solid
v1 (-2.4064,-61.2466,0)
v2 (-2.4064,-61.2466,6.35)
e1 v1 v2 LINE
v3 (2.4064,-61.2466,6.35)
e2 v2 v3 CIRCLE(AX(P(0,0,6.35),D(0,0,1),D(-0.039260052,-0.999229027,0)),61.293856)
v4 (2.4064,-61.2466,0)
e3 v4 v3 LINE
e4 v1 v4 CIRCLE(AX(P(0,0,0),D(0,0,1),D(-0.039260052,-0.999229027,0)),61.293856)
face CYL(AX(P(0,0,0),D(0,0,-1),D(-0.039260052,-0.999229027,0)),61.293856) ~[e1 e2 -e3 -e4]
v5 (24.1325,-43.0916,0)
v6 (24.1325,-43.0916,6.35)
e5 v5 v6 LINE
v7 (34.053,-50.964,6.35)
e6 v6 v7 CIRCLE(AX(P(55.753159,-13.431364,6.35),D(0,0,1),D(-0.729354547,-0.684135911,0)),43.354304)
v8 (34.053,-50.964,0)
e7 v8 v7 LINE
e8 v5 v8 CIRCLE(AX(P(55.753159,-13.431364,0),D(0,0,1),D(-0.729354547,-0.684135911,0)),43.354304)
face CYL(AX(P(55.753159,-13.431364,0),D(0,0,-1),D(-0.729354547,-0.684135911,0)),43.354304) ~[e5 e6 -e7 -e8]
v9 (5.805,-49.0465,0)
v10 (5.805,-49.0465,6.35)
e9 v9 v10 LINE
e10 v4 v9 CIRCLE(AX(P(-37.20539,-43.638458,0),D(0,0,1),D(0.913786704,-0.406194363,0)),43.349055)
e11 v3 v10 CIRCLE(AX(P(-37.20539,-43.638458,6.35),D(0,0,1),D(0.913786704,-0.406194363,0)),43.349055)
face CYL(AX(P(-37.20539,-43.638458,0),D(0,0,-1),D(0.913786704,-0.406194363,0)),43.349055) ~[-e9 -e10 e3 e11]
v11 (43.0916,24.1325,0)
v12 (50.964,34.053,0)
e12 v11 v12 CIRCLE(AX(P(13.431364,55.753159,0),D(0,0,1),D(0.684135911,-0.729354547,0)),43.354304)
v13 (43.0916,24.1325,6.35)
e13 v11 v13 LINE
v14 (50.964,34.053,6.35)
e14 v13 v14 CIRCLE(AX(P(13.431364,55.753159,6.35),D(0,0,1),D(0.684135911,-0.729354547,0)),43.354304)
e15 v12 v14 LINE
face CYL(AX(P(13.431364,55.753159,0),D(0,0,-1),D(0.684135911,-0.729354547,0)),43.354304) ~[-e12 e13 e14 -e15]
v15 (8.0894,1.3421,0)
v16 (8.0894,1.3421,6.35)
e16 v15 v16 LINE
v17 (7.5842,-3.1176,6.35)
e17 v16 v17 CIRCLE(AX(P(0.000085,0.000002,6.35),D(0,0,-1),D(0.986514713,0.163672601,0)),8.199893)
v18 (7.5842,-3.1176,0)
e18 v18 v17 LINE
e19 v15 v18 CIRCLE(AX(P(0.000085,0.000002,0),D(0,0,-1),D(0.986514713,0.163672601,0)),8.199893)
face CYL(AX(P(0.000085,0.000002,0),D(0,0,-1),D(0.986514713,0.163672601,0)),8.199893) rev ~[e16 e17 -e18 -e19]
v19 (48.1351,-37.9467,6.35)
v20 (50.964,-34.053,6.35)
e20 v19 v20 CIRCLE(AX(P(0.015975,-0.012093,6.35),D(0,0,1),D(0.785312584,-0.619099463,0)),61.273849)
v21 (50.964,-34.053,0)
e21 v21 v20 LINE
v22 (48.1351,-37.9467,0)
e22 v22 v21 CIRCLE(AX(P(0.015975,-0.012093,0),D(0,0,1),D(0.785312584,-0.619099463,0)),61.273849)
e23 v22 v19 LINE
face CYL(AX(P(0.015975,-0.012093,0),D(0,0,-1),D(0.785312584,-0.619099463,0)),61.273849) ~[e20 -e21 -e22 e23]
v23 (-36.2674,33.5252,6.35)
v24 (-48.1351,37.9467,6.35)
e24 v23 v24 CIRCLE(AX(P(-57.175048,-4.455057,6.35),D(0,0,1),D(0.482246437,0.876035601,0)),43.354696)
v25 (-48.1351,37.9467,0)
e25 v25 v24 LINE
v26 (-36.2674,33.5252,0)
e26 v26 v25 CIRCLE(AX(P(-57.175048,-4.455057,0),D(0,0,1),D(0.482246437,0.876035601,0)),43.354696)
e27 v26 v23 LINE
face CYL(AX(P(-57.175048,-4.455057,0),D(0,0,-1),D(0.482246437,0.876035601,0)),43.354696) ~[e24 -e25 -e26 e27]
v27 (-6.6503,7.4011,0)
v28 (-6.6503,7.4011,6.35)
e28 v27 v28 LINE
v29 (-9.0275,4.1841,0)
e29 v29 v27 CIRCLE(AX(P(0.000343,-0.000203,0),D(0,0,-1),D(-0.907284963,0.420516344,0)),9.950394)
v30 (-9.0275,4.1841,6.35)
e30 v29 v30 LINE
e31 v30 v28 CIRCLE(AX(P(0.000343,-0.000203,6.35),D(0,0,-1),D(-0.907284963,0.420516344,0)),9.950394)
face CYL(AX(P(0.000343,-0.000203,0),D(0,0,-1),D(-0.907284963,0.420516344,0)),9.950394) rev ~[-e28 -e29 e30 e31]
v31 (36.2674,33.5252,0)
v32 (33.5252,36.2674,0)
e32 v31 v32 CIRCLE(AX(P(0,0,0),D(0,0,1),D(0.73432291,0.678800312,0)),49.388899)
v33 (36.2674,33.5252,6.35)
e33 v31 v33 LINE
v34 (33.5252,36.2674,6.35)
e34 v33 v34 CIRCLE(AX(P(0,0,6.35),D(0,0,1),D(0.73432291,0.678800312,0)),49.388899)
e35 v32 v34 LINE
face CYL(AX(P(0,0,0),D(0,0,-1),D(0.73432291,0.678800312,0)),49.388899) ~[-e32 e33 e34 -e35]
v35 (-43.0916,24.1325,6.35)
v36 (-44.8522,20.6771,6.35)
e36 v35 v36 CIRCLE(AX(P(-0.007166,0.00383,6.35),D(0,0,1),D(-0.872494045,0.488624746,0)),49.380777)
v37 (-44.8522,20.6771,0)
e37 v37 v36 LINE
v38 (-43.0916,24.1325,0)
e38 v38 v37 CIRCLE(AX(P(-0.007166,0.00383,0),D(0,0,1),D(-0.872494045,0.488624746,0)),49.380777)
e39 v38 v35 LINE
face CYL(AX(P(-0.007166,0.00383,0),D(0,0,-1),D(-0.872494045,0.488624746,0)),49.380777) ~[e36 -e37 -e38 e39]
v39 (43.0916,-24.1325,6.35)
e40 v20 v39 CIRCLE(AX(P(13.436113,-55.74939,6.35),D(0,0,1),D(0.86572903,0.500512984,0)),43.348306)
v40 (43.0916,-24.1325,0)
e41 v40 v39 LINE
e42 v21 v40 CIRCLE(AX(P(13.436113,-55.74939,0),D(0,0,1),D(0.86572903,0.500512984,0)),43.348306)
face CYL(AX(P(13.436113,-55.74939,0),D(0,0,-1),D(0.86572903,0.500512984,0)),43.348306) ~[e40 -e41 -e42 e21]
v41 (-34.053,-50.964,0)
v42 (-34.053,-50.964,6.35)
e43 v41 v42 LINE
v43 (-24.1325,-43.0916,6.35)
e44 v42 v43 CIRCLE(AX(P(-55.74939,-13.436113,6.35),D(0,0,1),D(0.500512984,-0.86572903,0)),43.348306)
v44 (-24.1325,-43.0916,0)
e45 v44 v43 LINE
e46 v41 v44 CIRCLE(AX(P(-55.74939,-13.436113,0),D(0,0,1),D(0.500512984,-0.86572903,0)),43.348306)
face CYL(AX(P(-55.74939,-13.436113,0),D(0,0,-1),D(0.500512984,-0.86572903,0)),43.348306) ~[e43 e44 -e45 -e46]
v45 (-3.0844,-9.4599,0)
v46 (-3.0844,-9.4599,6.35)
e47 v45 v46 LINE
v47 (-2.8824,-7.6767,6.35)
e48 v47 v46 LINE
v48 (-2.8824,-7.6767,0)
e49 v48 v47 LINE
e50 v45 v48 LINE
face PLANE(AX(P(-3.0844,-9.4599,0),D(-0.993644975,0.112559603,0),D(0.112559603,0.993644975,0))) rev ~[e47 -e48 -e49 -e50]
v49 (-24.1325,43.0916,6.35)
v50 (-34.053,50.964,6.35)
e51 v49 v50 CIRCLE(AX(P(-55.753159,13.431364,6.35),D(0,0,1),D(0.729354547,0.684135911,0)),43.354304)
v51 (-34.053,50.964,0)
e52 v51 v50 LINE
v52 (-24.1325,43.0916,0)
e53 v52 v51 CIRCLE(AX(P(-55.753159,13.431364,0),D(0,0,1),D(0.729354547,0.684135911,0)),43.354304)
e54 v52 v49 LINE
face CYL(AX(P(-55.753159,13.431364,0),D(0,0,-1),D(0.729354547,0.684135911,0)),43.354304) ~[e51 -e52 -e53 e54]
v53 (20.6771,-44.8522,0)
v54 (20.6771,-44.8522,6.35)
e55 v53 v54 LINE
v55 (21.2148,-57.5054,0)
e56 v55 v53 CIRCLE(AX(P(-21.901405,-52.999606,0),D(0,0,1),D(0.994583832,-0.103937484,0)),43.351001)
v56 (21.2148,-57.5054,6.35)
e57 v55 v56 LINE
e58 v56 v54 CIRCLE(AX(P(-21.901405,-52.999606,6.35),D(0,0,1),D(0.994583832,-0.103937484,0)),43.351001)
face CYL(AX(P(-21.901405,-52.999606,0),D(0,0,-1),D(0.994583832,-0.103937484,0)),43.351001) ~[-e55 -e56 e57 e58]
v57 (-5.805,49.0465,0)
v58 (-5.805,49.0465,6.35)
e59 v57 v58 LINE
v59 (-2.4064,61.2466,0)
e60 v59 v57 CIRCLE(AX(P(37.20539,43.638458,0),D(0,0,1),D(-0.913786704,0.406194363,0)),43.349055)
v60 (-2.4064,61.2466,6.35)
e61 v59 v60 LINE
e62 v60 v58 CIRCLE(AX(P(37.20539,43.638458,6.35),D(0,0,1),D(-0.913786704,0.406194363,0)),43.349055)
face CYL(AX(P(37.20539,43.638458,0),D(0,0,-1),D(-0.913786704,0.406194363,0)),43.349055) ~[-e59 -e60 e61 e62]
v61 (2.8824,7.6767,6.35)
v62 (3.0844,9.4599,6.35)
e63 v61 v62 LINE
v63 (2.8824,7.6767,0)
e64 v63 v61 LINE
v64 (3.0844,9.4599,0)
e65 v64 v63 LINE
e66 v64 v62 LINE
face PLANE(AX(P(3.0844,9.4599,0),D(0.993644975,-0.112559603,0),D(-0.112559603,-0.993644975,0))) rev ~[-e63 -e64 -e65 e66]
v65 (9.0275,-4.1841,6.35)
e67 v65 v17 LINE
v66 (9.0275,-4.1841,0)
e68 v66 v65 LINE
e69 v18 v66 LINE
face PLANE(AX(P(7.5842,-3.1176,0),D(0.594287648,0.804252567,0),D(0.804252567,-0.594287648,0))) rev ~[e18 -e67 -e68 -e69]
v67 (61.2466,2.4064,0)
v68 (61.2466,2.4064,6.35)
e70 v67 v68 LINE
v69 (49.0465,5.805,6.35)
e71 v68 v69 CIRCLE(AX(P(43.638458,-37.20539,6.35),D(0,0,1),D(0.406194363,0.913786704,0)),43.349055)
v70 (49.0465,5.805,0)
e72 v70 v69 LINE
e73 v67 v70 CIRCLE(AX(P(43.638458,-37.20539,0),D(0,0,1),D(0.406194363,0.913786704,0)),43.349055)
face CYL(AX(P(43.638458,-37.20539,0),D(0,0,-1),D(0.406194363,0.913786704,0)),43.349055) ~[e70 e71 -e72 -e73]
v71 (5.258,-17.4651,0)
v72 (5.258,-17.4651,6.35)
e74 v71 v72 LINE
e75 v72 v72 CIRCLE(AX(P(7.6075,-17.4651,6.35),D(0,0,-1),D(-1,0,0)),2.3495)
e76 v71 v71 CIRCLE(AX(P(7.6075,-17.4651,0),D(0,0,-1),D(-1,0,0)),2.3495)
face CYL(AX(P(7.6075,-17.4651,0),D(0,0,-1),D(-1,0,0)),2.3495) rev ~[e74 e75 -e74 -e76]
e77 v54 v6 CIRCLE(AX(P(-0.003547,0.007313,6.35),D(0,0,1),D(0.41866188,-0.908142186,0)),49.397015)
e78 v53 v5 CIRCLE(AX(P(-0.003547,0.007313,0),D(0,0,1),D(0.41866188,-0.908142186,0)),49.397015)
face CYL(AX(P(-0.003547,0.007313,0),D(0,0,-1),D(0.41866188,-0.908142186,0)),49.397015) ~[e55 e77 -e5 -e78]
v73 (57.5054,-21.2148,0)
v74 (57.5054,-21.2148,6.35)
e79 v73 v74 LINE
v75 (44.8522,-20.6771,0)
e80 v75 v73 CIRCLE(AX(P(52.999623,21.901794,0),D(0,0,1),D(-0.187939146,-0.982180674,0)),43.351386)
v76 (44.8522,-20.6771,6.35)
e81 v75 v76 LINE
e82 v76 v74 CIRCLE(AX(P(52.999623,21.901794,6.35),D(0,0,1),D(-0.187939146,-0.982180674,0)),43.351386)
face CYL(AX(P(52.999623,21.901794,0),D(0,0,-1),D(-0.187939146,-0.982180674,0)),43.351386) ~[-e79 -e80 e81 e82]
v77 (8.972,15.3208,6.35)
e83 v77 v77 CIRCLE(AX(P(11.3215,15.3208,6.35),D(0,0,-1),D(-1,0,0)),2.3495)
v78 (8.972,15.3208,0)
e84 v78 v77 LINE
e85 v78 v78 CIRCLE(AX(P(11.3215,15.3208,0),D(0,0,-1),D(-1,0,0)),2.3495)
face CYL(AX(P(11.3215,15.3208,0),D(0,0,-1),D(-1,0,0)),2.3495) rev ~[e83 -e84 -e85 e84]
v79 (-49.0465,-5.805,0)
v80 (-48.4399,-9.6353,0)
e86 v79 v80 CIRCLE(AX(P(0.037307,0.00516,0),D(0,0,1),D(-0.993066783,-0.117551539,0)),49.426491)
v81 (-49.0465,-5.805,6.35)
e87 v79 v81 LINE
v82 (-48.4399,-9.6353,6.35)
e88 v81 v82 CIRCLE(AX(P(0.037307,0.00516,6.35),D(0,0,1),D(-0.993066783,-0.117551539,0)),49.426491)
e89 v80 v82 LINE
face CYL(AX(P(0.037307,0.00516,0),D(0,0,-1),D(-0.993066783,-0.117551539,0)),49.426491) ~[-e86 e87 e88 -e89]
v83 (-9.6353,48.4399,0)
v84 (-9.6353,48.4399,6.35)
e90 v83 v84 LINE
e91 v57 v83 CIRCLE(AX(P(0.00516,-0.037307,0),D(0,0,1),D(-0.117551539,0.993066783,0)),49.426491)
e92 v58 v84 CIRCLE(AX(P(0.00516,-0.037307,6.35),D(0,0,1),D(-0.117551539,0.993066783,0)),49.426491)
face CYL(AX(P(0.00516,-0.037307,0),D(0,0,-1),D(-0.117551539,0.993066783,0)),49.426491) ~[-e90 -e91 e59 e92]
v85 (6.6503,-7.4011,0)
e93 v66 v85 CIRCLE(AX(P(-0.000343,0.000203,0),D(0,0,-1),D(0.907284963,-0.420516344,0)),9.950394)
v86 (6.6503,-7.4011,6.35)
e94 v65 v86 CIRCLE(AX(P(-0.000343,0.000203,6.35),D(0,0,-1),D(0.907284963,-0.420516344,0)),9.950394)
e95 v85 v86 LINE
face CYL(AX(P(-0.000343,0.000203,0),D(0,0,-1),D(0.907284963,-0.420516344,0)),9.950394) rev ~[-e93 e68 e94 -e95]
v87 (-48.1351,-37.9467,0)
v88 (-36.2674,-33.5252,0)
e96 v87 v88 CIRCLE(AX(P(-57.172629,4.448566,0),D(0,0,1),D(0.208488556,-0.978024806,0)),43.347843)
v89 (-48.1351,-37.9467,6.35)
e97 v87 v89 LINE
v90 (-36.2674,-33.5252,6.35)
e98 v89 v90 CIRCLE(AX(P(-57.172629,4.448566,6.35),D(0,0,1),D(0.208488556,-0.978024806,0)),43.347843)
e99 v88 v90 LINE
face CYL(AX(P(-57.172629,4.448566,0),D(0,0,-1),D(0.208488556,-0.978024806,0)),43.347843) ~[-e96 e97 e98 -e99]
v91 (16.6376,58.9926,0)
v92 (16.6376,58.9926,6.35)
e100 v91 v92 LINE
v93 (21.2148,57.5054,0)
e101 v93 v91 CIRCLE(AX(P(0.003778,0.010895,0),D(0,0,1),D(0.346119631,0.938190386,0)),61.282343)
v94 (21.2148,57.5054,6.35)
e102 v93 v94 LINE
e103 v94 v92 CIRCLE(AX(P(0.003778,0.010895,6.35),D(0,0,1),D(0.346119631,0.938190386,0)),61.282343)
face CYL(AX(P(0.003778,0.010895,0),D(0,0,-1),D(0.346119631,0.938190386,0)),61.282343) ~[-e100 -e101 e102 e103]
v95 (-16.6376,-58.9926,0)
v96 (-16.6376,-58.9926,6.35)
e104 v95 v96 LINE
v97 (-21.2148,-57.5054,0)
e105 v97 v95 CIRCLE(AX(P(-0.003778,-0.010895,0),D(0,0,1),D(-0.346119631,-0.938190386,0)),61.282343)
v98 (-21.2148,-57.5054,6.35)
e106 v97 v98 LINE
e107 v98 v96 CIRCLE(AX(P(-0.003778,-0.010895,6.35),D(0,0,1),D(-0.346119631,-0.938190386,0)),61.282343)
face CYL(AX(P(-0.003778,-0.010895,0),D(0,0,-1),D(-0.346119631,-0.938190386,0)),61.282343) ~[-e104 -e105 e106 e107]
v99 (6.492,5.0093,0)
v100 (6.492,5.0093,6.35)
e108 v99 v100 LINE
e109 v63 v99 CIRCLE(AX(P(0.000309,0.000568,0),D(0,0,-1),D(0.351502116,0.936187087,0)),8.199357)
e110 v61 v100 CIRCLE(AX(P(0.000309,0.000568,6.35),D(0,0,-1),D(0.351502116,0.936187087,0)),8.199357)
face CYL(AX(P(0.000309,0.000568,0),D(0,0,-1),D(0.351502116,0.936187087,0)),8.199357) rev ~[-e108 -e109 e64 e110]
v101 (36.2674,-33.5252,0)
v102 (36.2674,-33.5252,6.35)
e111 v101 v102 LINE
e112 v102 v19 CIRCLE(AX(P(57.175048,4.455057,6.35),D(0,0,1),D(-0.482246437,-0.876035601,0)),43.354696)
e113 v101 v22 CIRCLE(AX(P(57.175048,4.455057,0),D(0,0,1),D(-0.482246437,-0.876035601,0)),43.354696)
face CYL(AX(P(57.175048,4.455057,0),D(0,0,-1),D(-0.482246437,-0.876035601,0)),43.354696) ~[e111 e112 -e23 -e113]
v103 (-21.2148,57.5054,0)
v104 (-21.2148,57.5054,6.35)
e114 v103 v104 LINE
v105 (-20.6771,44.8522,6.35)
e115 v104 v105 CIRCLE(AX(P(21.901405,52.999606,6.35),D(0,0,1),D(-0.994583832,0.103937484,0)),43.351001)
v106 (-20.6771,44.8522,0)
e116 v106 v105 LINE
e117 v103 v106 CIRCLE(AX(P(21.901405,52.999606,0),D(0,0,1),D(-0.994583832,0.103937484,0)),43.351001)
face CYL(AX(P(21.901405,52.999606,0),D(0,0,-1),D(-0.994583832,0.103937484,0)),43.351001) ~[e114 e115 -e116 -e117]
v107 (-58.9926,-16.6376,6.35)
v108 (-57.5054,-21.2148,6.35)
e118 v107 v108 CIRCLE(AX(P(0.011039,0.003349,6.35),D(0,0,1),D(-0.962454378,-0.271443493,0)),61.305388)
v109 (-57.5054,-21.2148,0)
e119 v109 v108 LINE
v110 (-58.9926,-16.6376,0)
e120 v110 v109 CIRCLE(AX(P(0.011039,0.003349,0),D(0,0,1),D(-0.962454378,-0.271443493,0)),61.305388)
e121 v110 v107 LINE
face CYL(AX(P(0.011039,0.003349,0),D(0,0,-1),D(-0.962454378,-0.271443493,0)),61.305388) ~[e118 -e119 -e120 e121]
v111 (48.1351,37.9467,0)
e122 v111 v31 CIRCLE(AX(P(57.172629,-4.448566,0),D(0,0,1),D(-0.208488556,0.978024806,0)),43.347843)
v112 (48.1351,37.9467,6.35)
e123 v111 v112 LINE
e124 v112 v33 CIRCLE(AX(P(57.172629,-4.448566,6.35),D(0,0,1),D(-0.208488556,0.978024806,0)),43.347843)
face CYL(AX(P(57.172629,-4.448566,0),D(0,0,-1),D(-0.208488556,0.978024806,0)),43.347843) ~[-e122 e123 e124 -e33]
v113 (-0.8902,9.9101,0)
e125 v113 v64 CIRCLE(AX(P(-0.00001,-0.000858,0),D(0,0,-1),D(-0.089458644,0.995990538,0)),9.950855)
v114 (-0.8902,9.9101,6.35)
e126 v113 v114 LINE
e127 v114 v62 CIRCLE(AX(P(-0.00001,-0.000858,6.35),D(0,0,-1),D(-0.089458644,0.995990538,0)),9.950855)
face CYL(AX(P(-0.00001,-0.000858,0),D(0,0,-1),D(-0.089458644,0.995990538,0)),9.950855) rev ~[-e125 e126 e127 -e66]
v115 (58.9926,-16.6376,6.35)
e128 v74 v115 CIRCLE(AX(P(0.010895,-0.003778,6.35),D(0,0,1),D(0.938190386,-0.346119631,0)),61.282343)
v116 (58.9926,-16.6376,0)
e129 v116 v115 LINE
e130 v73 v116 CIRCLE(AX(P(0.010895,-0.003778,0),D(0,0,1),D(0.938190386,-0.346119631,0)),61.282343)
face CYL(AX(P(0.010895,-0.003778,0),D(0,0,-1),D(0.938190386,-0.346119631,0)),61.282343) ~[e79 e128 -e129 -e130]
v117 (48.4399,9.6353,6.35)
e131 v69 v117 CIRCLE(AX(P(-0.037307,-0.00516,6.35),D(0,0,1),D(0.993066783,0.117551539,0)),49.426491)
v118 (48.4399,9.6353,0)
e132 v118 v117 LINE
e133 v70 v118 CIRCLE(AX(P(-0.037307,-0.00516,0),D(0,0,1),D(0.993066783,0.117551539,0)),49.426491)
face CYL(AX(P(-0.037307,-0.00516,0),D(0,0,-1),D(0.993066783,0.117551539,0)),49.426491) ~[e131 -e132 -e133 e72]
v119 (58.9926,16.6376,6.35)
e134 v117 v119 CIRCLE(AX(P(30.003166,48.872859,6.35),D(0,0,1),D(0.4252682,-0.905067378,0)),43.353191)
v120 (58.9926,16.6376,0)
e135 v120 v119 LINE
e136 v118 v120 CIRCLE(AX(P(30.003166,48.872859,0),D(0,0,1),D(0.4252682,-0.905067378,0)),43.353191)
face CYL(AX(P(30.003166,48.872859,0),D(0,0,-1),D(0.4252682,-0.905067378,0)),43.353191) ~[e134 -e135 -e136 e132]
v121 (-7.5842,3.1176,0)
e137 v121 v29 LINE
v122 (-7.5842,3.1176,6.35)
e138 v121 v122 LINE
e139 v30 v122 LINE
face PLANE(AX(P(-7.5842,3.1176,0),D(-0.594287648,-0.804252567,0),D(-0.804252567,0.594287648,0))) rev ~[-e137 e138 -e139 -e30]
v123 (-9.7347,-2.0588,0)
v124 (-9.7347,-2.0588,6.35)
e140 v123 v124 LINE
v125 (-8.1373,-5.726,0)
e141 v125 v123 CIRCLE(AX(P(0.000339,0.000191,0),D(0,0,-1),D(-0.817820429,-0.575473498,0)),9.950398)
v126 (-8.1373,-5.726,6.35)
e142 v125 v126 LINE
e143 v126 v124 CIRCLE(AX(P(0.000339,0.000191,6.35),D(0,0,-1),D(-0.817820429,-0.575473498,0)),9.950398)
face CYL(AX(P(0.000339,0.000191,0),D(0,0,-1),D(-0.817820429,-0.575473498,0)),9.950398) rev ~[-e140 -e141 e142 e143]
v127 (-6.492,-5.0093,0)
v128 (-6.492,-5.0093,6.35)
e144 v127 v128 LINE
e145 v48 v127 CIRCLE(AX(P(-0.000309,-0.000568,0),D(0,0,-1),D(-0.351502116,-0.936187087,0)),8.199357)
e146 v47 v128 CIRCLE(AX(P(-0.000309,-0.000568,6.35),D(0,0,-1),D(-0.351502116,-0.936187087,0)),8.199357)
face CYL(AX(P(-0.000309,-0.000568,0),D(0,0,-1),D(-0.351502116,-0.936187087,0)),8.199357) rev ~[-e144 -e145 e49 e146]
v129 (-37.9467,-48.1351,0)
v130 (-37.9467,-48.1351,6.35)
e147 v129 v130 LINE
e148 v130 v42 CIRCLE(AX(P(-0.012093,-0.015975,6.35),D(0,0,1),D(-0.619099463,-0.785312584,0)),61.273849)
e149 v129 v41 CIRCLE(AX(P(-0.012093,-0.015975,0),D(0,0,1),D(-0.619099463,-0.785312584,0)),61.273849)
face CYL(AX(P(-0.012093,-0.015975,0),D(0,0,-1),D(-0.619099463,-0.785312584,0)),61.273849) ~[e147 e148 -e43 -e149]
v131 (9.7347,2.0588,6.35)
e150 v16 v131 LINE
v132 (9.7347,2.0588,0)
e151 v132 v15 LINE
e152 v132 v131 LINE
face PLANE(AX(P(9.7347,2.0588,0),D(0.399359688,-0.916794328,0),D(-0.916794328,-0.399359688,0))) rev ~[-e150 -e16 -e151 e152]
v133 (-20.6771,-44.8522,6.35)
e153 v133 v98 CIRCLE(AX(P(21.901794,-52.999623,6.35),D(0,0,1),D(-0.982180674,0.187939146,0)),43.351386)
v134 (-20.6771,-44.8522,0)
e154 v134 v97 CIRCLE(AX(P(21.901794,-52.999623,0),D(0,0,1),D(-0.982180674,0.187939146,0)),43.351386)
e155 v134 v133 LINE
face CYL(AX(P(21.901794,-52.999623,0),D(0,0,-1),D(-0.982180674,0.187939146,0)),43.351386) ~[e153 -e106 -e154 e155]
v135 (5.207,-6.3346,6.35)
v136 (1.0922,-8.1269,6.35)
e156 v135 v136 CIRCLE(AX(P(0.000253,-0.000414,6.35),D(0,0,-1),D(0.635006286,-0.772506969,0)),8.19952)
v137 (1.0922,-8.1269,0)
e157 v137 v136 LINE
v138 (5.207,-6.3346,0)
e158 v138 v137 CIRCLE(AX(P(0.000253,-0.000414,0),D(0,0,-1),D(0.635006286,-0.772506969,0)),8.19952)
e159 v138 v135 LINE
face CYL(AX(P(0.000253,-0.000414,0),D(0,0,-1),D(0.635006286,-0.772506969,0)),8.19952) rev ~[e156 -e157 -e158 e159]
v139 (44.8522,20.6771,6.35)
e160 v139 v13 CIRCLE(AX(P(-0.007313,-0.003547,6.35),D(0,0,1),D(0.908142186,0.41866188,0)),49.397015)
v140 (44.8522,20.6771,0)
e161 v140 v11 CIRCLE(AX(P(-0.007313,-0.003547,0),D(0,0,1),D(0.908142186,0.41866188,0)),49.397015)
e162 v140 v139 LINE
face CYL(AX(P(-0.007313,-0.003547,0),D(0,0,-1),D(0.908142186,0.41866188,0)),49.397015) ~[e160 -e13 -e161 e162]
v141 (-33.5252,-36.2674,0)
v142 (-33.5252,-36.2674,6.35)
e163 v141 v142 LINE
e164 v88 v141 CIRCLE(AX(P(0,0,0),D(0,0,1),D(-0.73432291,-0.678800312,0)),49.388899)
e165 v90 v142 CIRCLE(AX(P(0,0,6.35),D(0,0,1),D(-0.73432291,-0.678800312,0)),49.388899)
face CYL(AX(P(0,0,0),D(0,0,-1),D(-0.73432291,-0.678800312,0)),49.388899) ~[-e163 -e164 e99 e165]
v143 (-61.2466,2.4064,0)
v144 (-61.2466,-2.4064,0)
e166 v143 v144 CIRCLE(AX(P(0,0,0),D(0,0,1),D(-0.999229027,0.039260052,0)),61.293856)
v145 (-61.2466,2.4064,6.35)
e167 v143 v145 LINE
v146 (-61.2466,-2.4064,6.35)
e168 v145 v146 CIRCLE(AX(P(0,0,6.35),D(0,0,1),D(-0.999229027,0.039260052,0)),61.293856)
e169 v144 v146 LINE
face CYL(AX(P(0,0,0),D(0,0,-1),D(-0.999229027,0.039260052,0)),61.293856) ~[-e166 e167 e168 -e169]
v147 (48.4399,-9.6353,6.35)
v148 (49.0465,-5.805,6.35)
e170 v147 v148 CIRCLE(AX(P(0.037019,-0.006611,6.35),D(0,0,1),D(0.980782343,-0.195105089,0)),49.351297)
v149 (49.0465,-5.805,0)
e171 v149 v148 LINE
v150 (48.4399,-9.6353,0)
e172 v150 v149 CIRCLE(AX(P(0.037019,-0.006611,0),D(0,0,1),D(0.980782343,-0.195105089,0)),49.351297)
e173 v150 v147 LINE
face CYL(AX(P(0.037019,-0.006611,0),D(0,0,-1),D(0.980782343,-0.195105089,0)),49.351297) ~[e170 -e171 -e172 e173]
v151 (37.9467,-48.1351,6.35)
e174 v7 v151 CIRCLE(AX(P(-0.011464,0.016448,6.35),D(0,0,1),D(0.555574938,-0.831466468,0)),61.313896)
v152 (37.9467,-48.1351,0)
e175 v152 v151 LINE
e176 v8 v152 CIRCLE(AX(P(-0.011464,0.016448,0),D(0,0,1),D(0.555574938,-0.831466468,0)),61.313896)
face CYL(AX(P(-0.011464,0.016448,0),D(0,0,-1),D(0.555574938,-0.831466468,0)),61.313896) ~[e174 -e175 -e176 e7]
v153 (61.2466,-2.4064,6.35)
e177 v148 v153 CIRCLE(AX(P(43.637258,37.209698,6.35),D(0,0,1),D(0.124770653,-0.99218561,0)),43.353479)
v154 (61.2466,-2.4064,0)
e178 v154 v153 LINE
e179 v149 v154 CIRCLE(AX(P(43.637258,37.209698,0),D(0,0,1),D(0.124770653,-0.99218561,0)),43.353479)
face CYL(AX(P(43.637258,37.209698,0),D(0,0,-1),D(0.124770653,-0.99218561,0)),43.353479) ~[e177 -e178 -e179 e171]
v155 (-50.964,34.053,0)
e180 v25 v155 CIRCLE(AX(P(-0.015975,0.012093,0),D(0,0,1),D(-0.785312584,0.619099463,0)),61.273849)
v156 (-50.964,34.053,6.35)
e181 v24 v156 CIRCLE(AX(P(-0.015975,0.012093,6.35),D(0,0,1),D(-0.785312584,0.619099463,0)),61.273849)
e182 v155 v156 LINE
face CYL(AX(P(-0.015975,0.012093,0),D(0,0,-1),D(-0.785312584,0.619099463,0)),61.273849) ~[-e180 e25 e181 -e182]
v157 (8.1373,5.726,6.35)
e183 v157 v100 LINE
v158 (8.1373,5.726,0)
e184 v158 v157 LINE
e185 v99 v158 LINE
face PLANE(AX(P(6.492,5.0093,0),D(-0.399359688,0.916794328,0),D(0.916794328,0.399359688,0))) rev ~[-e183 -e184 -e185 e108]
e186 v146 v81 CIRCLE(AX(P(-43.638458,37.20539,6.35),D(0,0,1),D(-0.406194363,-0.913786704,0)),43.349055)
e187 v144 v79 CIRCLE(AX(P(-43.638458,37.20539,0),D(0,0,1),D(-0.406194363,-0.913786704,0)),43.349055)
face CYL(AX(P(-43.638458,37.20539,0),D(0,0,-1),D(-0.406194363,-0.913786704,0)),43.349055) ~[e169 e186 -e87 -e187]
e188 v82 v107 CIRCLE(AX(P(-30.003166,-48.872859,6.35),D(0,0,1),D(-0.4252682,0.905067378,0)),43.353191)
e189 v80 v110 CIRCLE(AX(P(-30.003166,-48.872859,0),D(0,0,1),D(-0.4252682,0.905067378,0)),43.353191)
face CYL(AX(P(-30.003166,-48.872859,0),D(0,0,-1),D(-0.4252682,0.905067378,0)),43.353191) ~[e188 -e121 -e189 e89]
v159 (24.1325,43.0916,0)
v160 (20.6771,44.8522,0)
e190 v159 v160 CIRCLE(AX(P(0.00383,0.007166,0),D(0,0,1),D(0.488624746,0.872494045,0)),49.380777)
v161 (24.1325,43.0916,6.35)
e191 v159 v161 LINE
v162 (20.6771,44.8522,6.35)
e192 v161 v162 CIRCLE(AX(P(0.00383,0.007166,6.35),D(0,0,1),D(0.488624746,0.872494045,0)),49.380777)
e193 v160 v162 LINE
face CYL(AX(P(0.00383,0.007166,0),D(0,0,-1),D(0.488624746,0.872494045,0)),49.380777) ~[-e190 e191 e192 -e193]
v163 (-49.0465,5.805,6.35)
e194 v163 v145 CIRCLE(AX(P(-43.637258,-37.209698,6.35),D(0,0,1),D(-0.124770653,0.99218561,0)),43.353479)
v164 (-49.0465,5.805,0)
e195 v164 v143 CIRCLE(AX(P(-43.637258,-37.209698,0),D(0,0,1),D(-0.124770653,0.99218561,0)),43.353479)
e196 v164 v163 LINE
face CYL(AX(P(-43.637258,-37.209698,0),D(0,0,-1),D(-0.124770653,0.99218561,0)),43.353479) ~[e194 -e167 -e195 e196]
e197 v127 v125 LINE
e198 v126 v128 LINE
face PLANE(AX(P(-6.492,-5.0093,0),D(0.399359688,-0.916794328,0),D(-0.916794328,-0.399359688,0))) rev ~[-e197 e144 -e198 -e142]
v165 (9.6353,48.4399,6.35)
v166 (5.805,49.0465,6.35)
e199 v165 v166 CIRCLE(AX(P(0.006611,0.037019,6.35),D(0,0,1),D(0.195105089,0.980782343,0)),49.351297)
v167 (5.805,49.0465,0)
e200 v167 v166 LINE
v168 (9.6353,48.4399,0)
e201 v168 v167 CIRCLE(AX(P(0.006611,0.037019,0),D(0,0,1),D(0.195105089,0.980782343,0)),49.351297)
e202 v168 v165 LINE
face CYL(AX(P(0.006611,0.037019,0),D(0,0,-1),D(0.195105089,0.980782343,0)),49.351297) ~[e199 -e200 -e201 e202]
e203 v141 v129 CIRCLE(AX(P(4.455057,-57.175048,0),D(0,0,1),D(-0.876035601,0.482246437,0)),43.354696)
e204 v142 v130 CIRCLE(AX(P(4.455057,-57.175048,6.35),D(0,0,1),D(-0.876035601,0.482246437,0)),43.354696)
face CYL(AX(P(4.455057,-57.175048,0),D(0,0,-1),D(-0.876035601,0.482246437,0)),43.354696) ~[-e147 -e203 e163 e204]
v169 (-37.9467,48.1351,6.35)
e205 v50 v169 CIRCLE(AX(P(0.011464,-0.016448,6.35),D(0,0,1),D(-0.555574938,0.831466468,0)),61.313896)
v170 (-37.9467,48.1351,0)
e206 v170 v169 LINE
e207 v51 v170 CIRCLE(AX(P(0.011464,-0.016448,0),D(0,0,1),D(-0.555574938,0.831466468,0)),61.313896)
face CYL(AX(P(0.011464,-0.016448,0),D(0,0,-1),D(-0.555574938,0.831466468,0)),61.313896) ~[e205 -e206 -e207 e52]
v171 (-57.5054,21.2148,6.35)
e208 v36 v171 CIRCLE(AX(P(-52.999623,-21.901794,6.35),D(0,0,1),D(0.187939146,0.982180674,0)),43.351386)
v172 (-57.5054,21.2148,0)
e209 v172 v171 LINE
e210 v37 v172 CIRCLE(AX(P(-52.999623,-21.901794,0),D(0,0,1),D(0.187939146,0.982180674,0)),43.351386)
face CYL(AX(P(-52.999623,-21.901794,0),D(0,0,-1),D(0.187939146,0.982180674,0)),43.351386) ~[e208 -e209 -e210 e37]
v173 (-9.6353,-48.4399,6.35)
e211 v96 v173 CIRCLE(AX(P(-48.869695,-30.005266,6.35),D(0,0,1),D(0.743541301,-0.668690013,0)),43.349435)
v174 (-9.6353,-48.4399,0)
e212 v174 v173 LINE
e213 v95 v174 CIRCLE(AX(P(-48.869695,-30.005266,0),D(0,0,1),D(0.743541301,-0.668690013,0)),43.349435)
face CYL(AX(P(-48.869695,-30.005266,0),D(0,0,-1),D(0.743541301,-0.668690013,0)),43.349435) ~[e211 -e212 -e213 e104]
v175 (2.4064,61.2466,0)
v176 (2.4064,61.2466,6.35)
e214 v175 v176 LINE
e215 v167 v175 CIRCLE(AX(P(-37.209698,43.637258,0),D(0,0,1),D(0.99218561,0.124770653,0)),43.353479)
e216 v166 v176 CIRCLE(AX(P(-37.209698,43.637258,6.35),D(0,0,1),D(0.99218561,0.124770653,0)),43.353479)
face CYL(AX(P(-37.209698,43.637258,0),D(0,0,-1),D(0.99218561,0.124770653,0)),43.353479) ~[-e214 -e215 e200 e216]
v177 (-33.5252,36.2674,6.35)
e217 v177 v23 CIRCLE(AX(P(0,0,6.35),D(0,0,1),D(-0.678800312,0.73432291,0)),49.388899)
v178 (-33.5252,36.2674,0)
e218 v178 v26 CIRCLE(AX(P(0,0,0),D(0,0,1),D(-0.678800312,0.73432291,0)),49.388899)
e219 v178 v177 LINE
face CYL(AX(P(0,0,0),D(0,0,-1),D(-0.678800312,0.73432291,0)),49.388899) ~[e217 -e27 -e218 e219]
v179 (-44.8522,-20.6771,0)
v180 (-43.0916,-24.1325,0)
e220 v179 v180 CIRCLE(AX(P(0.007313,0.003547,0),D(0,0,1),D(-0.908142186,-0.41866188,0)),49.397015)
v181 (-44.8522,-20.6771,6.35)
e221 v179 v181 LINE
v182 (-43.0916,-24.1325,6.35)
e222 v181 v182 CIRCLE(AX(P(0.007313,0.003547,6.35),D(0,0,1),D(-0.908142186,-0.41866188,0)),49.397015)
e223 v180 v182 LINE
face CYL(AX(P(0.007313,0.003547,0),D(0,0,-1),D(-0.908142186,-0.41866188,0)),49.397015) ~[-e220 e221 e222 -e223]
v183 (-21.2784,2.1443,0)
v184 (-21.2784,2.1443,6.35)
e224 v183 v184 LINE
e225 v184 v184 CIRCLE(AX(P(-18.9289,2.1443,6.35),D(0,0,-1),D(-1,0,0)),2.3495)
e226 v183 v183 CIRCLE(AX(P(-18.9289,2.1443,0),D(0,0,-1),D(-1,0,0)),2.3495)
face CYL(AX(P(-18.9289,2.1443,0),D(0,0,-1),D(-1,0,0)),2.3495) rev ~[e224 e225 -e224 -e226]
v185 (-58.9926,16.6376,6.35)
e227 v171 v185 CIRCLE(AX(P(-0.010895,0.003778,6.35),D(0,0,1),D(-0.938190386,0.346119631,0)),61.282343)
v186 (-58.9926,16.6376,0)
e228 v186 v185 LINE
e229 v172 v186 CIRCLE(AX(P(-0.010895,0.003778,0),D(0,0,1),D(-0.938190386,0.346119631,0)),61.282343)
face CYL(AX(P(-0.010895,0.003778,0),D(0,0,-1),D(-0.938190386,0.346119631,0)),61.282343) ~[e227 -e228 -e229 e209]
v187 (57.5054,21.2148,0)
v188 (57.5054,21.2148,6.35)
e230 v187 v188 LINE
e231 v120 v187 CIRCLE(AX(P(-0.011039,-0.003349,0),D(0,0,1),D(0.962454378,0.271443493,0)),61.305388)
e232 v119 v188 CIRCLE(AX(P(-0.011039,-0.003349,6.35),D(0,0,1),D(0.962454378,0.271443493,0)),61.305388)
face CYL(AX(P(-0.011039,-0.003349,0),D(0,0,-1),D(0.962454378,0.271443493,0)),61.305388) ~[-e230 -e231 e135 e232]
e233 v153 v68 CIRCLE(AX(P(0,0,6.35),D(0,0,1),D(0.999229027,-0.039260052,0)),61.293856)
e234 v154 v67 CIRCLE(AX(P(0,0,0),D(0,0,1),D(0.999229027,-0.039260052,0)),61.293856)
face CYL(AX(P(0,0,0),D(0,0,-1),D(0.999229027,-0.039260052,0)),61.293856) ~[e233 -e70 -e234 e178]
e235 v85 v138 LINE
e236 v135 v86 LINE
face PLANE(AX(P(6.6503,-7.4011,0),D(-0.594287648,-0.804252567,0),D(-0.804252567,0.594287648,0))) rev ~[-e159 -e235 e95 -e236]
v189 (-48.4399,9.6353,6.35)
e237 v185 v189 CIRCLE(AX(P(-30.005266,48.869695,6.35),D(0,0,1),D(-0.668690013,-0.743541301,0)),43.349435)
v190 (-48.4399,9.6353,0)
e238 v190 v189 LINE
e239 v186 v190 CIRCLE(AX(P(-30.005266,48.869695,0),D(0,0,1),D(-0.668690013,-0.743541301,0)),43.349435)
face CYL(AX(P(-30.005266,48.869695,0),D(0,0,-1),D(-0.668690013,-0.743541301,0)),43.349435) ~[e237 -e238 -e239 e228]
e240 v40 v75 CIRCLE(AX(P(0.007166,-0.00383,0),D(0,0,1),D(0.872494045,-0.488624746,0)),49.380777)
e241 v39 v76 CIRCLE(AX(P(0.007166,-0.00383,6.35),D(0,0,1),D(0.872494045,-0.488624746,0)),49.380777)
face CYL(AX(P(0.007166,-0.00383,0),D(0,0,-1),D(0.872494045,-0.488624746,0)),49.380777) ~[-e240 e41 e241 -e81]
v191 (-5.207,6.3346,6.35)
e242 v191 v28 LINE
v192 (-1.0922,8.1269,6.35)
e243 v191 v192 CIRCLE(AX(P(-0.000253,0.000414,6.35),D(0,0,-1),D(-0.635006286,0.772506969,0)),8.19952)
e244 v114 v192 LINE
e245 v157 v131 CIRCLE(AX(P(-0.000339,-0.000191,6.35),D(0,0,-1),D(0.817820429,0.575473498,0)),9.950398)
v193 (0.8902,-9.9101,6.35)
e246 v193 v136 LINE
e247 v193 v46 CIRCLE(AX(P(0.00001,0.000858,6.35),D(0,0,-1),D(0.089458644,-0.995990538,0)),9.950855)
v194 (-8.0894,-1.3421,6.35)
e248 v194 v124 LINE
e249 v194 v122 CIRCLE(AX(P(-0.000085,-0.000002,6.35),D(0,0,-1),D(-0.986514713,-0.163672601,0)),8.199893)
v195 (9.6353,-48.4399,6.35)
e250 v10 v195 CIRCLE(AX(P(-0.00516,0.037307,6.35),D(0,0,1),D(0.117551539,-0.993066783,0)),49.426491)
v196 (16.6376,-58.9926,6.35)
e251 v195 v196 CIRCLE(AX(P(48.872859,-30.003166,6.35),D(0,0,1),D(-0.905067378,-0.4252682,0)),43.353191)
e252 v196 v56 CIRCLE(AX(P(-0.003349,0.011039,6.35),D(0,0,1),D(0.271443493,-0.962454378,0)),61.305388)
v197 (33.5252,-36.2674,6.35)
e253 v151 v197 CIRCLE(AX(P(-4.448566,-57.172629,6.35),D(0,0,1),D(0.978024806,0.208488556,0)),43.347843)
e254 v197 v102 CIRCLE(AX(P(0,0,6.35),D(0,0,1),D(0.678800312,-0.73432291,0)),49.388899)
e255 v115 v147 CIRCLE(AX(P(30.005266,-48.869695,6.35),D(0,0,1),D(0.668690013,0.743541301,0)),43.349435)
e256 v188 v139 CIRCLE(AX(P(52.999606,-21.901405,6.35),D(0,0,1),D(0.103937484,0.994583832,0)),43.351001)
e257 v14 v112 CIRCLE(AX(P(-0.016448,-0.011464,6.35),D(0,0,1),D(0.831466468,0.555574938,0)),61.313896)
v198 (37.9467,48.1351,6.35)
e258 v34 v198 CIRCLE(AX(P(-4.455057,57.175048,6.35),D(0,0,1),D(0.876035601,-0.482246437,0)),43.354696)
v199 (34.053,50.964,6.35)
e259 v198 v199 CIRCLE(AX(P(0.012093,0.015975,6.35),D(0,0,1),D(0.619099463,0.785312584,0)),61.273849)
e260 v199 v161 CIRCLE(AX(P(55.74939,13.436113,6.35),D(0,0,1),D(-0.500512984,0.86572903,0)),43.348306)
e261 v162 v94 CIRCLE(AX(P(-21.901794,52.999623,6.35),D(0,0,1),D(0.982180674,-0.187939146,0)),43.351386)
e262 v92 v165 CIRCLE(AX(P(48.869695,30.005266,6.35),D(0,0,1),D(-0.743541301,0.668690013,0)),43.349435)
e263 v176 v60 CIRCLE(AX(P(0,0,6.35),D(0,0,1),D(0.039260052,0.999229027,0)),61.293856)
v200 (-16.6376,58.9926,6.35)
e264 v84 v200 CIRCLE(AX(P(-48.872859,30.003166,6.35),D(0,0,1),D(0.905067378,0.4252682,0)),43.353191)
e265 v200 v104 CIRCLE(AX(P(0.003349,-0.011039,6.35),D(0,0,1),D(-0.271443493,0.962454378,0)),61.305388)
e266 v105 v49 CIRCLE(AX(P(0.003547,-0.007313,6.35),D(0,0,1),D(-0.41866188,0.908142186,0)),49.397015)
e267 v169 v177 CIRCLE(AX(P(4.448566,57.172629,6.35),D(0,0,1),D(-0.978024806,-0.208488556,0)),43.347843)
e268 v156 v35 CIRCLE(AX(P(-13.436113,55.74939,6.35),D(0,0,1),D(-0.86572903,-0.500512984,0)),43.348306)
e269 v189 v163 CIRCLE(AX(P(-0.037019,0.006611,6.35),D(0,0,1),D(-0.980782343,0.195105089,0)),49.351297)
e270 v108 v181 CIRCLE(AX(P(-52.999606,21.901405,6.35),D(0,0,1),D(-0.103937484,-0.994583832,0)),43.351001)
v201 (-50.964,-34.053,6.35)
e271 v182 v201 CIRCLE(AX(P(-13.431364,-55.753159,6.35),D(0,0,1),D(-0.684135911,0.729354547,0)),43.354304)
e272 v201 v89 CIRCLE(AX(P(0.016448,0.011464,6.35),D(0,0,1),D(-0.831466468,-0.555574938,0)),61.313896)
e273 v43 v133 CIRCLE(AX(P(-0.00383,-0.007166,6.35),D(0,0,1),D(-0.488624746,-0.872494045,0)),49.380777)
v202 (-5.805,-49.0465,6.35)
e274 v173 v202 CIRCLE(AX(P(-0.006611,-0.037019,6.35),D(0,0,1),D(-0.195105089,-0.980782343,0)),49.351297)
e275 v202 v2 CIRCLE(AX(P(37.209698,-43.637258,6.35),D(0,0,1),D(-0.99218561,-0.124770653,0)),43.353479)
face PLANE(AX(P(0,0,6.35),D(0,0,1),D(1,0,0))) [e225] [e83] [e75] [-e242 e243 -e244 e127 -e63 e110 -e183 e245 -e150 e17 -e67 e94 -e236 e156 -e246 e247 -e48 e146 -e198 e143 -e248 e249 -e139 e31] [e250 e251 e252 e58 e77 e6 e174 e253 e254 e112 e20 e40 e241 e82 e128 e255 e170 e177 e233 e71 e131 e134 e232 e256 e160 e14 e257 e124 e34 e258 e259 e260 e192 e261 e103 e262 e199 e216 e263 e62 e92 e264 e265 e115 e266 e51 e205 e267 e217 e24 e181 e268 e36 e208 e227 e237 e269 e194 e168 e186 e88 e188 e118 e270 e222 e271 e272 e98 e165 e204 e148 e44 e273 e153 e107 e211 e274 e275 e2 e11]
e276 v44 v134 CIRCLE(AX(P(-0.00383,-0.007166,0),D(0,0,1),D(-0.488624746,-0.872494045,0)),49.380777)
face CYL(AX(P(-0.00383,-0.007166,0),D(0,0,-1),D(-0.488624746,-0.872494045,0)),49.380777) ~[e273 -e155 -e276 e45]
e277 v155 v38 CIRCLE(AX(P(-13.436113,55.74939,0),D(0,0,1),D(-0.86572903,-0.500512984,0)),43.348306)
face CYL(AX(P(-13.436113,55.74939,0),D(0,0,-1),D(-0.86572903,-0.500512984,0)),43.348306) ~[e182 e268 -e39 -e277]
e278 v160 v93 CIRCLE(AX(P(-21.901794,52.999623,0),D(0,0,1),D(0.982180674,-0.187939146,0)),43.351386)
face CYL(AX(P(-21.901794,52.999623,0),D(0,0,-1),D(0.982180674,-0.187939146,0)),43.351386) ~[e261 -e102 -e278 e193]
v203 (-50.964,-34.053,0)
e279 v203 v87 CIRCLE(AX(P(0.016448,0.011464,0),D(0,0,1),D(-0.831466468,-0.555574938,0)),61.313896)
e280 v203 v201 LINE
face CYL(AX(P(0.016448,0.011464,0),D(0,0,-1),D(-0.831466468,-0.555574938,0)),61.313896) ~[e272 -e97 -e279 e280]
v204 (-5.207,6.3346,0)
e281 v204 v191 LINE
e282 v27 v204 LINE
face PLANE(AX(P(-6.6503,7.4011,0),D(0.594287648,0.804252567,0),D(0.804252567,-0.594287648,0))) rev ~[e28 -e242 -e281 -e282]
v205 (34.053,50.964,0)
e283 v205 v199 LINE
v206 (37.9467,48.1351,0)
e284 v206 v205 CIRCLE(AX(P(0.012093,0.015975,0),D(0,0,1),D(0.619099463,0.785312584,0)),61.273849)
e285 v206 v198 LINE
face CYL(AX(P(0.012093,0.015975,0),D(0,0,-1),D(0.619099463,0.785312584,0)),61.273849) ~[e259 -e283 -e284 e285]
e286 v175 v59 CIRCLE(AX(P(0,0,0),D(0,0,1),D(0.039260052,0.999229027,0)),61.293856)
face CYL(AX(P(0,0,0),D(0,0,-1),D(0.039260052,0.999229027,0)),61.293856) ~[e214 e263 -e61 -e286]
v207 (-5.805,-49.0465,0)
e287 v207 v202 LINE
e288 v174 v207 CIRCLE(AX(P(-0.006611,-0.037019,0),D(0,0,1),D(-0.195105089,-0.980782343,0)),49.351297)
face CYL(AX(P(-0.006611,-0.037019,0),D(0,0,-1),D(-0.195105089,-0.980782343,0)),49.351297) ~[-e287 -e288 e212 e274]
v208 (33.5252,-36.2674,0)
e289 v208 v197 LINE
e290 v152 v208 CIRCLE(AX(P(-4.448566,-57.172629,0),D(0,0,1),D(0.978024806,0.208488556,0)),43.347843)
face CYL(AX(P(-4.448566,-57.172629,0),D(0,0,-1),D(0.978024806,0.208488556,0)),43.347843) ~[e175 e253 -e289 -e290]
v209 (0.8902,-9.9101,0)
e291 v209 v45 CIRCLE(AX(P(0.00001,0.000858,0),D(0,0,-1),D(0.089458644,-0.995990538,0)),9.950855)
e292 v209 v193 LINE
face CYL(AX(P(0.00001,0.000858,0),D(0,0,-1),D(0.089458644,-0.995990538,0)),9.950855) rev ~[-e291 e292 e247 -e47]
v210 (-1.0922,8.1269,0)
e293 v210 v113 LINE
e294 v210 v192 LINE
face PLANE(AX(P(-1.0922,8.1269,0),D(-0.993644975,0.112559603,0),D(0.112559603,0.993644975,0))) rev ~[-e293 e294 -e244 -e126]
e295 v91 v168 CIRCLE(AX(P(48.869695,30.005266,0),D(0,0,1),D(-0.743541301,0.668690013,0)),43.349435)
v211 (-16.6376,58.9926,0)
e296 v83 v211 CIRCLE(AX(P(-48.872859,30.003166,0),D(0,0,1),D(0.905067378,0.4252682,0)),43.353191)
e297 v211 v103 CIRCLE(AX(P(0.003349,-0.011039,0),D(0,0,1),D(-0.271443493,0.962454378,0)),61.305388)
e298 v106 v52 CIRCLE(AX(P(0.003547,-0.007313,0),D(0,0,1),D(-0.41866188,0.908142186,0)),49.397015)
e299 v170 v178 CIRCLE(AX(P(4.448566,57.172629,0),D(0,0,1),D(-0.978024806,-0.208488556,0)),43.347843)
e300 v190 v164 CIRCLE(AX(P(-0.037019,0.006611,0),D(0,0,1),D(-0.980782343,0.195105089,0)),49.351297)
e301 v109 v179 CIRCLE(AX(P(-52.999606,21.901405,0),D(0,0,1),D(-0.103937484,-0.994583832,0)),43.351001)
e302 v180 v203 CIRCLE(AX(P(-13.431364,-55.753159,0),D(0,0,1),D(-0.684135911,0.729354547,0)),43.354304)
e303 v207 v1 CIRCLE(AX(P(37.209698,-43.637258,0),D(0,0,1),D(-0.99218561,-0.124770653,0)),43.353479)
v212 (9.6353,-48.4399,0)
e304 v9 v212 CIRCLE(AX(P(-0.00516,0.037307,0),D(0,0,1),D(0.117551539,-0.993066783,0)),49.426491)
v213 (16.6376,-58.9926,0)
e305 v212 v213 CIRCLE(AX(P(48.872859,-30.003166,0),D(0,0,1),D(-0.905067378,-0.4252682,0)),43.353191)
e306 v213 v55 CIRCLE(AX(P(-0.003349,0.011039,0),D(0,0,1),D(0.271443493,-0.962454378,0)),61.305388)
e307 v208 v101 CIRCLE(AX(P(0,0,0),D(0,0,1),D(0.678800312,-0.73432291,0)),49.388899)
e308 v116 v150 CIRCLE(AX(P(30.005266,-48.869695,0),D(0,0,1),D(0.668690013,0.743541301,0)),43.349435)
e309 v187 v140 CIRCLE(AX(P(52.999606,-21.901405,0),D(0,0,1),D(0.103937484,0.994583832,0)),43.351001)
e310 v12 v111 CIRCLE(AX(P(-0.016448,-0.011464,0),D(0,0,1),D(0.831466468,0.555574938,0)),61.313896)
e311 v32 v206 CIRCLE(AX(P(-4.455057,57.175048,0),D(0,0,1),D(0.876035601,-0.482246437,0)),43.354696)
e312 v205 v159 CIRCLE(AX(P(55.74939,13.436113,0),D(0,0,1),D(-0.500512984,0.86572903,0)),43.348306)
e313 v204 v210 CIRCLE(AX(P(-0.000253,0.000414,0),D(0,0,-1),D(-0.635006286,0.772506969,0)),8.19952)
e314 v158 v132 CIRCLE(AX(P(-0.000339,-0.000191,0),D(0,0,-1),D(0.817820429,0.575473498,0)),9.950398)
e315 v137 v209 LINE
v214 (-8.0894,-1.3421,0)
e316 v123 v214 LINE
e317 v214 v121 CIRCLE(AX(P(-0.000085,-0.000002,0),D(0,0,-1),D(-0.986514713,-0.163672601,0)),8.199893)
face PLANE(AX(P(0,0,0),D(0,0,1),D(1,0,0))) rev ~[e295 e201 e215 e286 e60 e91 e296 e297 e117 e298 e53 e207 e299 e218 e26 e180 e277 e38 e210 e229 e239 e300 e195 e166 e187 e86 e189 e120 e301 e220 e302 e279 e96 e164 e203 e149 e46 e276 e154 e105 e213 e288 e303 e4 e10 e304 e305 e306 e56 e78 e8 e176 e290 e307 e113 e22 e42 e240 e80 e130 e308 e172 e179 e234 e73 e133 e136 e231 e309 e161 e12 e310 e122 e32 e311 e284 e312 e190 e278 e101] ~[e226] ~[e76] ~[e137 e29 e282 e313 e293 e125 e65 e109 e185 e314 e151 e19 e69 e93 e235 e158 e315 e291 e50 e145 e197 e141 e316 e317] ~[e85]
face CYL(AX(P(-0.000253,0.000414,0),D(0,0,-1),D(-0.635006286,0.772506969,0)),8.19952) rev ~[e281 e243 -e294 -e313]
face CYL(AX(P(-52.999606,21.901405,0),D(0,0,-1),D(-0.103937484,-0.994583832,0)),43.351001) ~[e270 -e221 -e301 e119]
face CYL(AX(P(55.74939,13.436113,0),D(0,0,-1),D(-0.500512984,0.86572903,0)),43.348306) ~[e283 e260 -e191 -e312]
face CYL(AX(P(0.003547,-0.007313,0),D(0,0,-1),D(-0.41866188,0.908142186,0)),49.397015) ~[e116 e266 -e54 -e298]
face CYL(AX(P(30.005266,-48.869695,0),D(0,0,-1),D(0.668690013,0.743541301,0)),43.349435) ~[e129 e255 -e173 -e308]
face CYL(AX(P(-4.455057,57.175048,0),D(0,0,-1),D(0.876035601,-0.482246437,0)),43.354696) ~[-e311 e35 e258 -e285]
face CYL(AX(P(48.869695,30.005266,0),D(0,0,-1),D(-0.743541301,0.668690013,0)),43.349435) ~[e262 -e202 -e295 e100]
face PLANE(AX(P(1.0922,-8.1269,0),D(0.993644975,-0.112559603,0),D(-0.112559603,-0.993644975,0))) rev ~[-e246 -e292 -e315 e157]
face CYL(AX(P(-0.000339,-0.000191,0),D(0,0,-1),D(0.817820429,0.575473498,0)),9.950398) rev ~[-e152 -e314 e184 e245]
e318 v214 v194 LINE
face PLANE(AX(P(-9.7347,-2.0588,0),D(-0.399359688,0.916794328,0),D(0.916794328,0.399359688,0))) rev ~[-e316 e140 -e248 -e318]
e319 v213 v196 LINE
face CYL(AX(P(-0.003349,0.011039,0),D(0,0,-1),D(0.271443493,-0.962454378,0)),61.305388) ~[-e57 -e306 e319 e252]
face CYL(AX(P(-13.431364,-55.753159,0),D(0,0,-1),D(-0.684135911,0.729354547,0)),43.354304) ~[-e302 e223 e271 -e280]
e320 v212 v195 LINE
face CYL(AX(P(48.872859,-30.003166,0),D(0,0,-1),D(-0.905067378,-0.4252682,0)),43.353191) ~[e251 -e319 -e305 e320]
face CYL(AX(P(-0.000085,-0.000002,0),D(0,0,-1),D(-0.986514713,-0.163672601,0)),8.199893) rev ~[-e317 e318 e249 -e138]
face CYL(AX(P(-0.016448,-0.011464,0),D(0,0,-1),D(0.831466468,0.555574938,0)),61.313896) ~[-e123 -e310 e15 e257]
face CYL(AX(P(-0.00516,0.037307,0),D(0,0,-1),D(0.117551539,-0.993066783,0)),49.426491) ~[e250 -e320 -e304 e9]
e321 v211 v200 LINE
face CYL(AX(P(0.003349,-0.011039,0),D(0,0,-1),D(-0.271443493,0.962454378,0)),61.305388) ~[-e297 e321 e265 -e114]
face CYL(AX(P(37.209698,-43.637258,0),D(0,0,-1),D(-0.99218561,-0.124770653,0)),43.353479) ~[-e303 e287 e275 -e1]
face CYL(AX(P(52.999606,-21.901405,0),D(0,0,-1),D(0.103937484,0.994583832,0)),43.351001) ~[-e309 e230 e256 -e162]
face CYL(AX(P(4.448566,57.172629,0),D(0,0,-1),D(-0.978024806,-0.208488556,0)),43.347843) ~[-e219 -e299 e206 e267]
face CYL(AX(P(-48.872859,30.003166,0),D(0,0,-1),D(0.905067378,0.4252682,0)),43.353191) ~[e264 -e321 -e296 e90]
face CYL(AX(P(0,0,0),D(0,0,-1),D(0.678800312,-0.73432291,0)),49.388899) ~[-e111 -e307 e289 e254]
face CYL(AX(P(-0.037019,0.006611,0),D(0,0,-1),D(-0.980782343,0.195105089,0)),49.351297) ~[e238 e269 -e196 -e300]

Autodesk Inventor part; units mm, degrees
ref_plane "YZ Plane" through (0, 0, 0) normal (1, 0, 0) x (0, 1, 0)
ref_plane "XZ Plane" through (0, 0, 0) normal (0, 1, 0) x (-1, 0, 0)
ref_plane "XY Plane" through (0, 0, 0) normal (0, 0, 1) x (1, 0, 0)
sketch "Sketch1" plane through (0, 0, 0) normal (0, 0, 1) x (1, 0, 0)
  arc A0 (-21.2148, 57.5054) -> (-20.6771, 44.8522) centre (21.9016, 52.9996) ccw
  arc A1 (-20.6771, 44.8522) -> (-24.1325, 43.0916) centre (0, 0) ccw
  arc A2 (-24.1325, 43.0916) -> (-34.053, 50.964) centre (-55.7511, 13.4336) ccw
  arc A3 (-34.053, 50.964) -> (-37.9467, 48.1351) centre (0, 0) ccw
  arc A4 (-37.9467, 48.1351) -> (-33.5252, 36.2674) centre (4.4519, 57.1736) ccw
  arc A5 (-33.5252, 36.2674) -> (-36.2674, 33.5252) centre (0, 0) ccw
  arc A6 (-36.2674, 33.5252) -> (-48.1351, 37.9467) centre (-57.1736, -4.4519) ccw
  arc A7 (-48.1351, 37.9467) -> (-50.964, 34.053) centre (0, 0) ccw
  arc A8 (-50.964, 34.053) -> (-43.0916, 24.1325) centre (-13.4336, 55.7511) ccw
  arc A9 (-43.0916, 24.1325) -> (-44.8522, 20.6771) centre (0, 0) ccw
  arc A10 (-44.8522, 20.6771) -> (-57.5054, 21.2148) centre (-52.9996, -21.9016) ccw
  arc A11 (-57.5054, 21.2148) -> (-58.9926, 16.6376) centre (0, 0) ccw
  arc A12 (-58.9926, 16.6376) -> (-48.4399, 9.6353) centre (-30.0041, 48.8712) ccw
  arc A13 (-48.4399, 9.6353) -> (-49.0465, 5.805) centre (0, 0) ccw
  arc A14 (-49.0465, 5.805) -> (-61.2466, 2.4064) centre (-43.6377, -37.2075) ccw
  arc A15 (-61.2466, 2.4064) -> (-61.2466, -2.4064) centre (0, 0) ccw
  arc A16 (-61.2466, -2.4064) -> (-49.0465, -5.805) centre (-43.6377, 37.2075) ccw
  arc A17 (-49.0465, -5.805) -> (-48.4399, -9.6353) centre (0, 0) ccw
  arc A18 (-48.4399, -9.6353) -> (-58.9926, -16.6376) centre (-30.0041, -48.8712) ccw
  arc A19 (-58.9926, -16.6376) -> (-57.5054, -21.2148) centre (0, 0) ccw
  arc A20 (-57.5054, -21.2148) -> (-44.8522, -20.6771) centre (-52.9996, 21.9016) ccw
  arc A21 (-44.8522, -20.6771) -> (-43.0916, -24.1325) centre (0, 0) ccw
  arc A22 (-43.0916, -24.1325) -> (-50.964, -34.053) centre (-13.4336, -55.7511) ccw
  arc A23 (-50.964, -34.053) -> (-48.1351, -37.9467) centre (0, 0) ccw
  arc A24 (-48.1351, -37.9467) -> (-36.2674, -33.5252) centre (-57.1736, 4.4519) ccw
  arc A25 (-36.2674, -33.5252) -> (-33.5252, -36.2674) centre (0, 0) ccw
  arc A26 (-33.5252, -36.2674) -> (-37.9467, -48.1351) centre (4.4519, -57.1736) ccw
  arc A27 (-37.9467, -48.1351) -> (-34.053, -50.964) centre (0, 0) ccw
  arc A28 (-34.053, -50.964) -> (-24.1325, -43.0916) centre (-55.7511, -13.4336) ccw
  arc A29 (-24.1325, -43.0916) -> (-20.6771, -44.8522) centre (0, 0) ccw
  arc A30 (-20.6771, -44.8522) -> (-21.2148, -57.5054) centre (21.9016, -52.9996) ccw
  arc A31 (-21.2148, -57.5054) -> (-16.6376, -58.9926) centre (0, 0) ccw
  arc A32 (-16.6376, -58.9926) -> (-9.6353, -48.4399) centre (-48.8712, -30.0041) ccw
  arc A33 (-9.6353, -48.4399) -> (-5.805, -49.0465) centre (0, 0) ccw
  arc A34 (-5.805, -49.0465) -> (-2.4064, -61.2466) centre (37.2075, -43.6377) ccw
  arc A35 (-2.4064, -61.2466) -> (2.4064, -61.2466) centre (0, 0) ccw
  arc A36 (2.4064, -61.2466) -> (5.805, -49.0465) centre (-37.2075, -43.6377) ccw
  arc A37 (5.805, -49.0465) -> (9.6353, -48.4399) centre (0, 0) ccw
  arc A38 (9.6353, -48.4399) -> (16.6376, -58.9926) centre (48.8712, -30.0041) ccw
  arc A39 (16.6376, -58.9926) -> (21.2148, -57.5054) centre (0, 0) ccw
  arc A40 (21.2148, -57.5054) -> (20.6771, -44.8522) centre (-21.9016, -52.9996) ccw
  arc A41 (20.6771, -44.8522) -> (24.1325, -43.0916) centre (0, 0) ccw
  arc A42 (24.1325, -43.0916) -> (34.053, -50.964) centre (55.7511, -13.4336) ccw
  arc A43 (34.053, -50.964) -> (37.9467, -48.1351) centre (0, 0) ccw
  arc A44 (37.9467, -48.1351) -> (33.5252, -36.2674) centre (-4.4519, -57.1736) ccw
  arc A45 (33.5252, -36.2674) -> (36.2674, -33.5252) centre (0, 0) ccw
  arc A46 (36.2674, -33.5252) -> (48.1351, -37.9467) centre (57.1736, 4.4519) ccw
  arc A47 (48.1351, -37.9467) -> (50.964, -34.053) centre (0, 0) ccw
  arc A48 (50.964, -34.053) -> (43.0916, -24.1325) centre (13.4336, -55.7511) ccw
  arc A49 (43.0916, -24.1325) -> (44.8522, -20.6771) centre (0, 0) ccw
  arc A50 (44.8522, -20.6771) -> (57.5054, -21.2148) centre (52.9996, 21.9016) ccw
  arc A51 (57.5054, -21.2148) -> (58.9926, -16.6376) centre (0, 0) ccw
  arc A52 (58.9926, -16.6376) -> (48.4399, -9.6353) centre (30.0041, -48.8712) ccw
  arc A53 (48.4399, -9.6353) -> (49.0465, -5.805) centre (0, 0) ccw
  arc A54 (49.0465, -5.805) -> (61.2466, -2.4064) centre (43.6377, 37.2075) ccw
  arc A55 (61.2466, -2.4064) -> (61.2466, 2.4064) centre (0, 0) ccw
  arc A56 (61.2466, 2.4064) -> (49.0465, 5.805) centre (43.6377, -37.2075) ccw
  arc A57 (49.0465, 5.805) -> (48.4399, 9.6353) centre (0, 0) ccw
  arc A58 (48.4399, 9.6353) -> (58.9926, 16.6376) centre (30.0041, 48.8712) ccw
  arc A59 (58.9926, 16.6376) -> (57.5054, 21.2148) centre (0, 0) ccw
  arc A60 (57.5054, 21.2148) -> (44.8522, 20.6771) centre (52.9996, -21.9016) ccw
  arc A61 (44.8522, 20.6771) -> (43.0916, 24.1325) centre (0, 0) ccw
  arc A62 (43.0916, 24.1325) -> (50.964, 34.053) centre (13.4336, 55.7511) ccw
  arc A63 (50.964, 34.053) -> (48.1351, 37.9467) centre (0, 0) ccw
  arc A64 (48.1351, 37.9467) -> (36.2674, 33.5252) centre (57.1736, -4.4519) ccw
  arc A65 (36.2674, 33.5252) -> (33.5252, 36.2674) centre (0, 0) ccw
  arc A66 (33.5252, 36.2674) -> (37.9467, 48.1351) centre (-4.4519, 57.1736) ccw
  arc A67 (37.9467, 48.1351) -> (34.053, 50.964) centre (0, 0) ccw
  arc A68 (34.053, 50.964) -> (24.1325, 43.0916) centre (55.7511, 13.4336) ccw
  arc A69 (24.1325, 43.0916) -> (20.6771, 44.8522) centre (0, 0) ccw
  arc A70 (20.6771, 44.8522) -> (21.2148, 57.5054) centre (-21.9016, 52.9996) ccw
  arc A71 (21.2148, 57.5054) -> (16.6376, 58.9926) centre (0, 0) ccw
  arc A72 (16.6376, 58.9926) -> (9.6353, 48.4399) centre (48.8712, 30.0041) ccw
  arc A73 (9.6353, 48.4399) -> (5.805, 49.0465) centre (0, 0) ccw
  arc A74 (5.805, 49.0465) -> (2.4064, 61.2466) centre (-37.2075, 43.6377) ccw
  arc A75 (2.4064, 61.2466) -> (-2.4064, 61.2466) centre (0, 0) ccw
  arc A76 (-2.4064, 61.2466) -> (-5.805, 49.0465) centre (37.2075, 43.6377) ccw
  arc A77 (-5.805, 49.0465) -> (-9.6353, 48.4399) centre (0, 0) ccw
  arc A78 (-9.6353, 48.4399) -> (-16.6376, 58.9926) centre (-48.8712, 30.0041) ccw
  arc A79 (-16.6376, 58.9926) -> (-21.2148, 57.5054) centre (0, 0) ccw
  point P0 (0, 0)
extrude "Extrusion1" add sketch "Sketch1" along normal blind 6.35
sketch "Sketch2" plane through (0, 0, 0) normal (0, 0, -1) x (-1, 0, 0)
  arc A0 (-1.0922, -8.1269) -> (2.8824, -7.6767) centre (0, 0) ccw projected
  arc A1 (2.8824, -7.6767) -> (6.492, -5.0093) centre (0, 0) ccw projected
  arc A2 (6.492, -5.0093) -> (8.0894, -1.3421) centre (0, 0) ccw projected
  arc A3 (8.0894, -1.3421) -> (7.5842, 3.1176) centre (0, 0) ccw projected
  arc A4 (7.5842, 3.1176) -> (5.207, 6.3346) centre (0, 0) ccw projected
  arc A5 (5.207, 6.3346) -> (1.0922, 8.1269) centre (0, 0) ccw projected
  arc A6 (1.0922, 8.1269) -> (-2.8824, 7.6767) centre (0, 0) ccw projected
  arc A7 (-2.8824, 7.6767) -> (-6.492, 5.0093) centre (0, 0) ccw projected
  arc A8 (-6.492, 5.0093) -> (-8.0894, 1.3421) centre (0, 0) ccw projected
  arc A9 (-8.0894, 1.3421) -> (-7.5842, -3.1176) centre (0, 0) ccw projected
  arc A10 (-7.5842, -3.1176) -> (-5.207, -6.3346) centre (0, 0) ccw projected
  arc A11 (-5.207, -6.3346) -> (-1.0922, -8.1269) centre (0, 0) ccw projected
  line L0 (1.0922, 8.1269) -> (0.8902, 9.9101) projected
  arc A12 (0.8902, 9.9101) -> (-3.0844, 9.4599) centre (0, 0) ccw projected
  line L1 (-3.0844, 9.4599) -> (-2.8824, 7.6767) projected
  line L2 (-6.492, 5.0093) -> (-8.1373, 5.726) projected
  arc A13 (-8.1373, 5.726) -> (-9.7347, 2.0588) centre (0, 0) ccw projected
  line L3 (-9.7347, 2.0588) -> (-8.0894, 1.3421) projected
  line L4 (-7.5842, -3.1176) -> (-9.0275, -4.1841) projected
  arc A14 (-9.0275, -4.1841) -> (-6.6503, -7.4011) centre (0, 0) ccw projected
  line L5 (-6.6503, -7.4011) -> (-5.207, -6.3346) projected
  line L6 (-1.0922, -8.1269) -> (-0.8902, -9.9101) projected
  arc A15 (-0.8902, -9.9101) -> (3.0844, -9.4599) centre (0, 0) ccw projected
  line L7 (3.0844, -9.4599) -> (2.8824, -7.6767) projected
  line L8 (6.492, -5.0093) -> (8.1373, -5.726) projected
  arc A16 (8.1373, -5.726) -> (9.7347, -2.0588) centre (0, 0) ccw projected
  line L9 (9.7347, -2.0588) -> (8.0894, -1.3421) projected
  line L10 (7.5842, 3.1176) -> (9.0275, 4.1841) projected
  arc A17 (9.0275, 4.1841) -> (6.6503, 7.4011) centre (0, 0) ccw projected
  line L11 (6.6503, 7.4011) -> (5.207, 6.3346) projected
extrude "Extrusion2" cut sketch "Sketch2" against normal blind 25.4
sketch "Sketch3" plane through (0, 0, 0) normal (0, 0, -1) x (-1, 0, 0)
  circle A0 centre (-11.3215, 15.3208) radius 2.3495 projected
  circle A1 centre (18.9289, 2.1443) radius 2.3495 projected
  circle A2 centre (-7.6075, -17.4651) radius 2.3495 projected
extrude "Extrusion3" cut sketch "Sketch3" against normal blind 25.4
thread "Thread1" size "10-24 UNC" class "2B" standard "ANSI Unified Screw Threads" full length
thread "Thread2" size "10-24 UNC" class "2B" standard "ANSI Unified Screw Threads" full length
thread "Thread3" size "10-24 UNC" class "2B" standard "ANSI Unified Screw Threads" full length
properties part number "Small Spur Gear" material "Aluminum-6061"
